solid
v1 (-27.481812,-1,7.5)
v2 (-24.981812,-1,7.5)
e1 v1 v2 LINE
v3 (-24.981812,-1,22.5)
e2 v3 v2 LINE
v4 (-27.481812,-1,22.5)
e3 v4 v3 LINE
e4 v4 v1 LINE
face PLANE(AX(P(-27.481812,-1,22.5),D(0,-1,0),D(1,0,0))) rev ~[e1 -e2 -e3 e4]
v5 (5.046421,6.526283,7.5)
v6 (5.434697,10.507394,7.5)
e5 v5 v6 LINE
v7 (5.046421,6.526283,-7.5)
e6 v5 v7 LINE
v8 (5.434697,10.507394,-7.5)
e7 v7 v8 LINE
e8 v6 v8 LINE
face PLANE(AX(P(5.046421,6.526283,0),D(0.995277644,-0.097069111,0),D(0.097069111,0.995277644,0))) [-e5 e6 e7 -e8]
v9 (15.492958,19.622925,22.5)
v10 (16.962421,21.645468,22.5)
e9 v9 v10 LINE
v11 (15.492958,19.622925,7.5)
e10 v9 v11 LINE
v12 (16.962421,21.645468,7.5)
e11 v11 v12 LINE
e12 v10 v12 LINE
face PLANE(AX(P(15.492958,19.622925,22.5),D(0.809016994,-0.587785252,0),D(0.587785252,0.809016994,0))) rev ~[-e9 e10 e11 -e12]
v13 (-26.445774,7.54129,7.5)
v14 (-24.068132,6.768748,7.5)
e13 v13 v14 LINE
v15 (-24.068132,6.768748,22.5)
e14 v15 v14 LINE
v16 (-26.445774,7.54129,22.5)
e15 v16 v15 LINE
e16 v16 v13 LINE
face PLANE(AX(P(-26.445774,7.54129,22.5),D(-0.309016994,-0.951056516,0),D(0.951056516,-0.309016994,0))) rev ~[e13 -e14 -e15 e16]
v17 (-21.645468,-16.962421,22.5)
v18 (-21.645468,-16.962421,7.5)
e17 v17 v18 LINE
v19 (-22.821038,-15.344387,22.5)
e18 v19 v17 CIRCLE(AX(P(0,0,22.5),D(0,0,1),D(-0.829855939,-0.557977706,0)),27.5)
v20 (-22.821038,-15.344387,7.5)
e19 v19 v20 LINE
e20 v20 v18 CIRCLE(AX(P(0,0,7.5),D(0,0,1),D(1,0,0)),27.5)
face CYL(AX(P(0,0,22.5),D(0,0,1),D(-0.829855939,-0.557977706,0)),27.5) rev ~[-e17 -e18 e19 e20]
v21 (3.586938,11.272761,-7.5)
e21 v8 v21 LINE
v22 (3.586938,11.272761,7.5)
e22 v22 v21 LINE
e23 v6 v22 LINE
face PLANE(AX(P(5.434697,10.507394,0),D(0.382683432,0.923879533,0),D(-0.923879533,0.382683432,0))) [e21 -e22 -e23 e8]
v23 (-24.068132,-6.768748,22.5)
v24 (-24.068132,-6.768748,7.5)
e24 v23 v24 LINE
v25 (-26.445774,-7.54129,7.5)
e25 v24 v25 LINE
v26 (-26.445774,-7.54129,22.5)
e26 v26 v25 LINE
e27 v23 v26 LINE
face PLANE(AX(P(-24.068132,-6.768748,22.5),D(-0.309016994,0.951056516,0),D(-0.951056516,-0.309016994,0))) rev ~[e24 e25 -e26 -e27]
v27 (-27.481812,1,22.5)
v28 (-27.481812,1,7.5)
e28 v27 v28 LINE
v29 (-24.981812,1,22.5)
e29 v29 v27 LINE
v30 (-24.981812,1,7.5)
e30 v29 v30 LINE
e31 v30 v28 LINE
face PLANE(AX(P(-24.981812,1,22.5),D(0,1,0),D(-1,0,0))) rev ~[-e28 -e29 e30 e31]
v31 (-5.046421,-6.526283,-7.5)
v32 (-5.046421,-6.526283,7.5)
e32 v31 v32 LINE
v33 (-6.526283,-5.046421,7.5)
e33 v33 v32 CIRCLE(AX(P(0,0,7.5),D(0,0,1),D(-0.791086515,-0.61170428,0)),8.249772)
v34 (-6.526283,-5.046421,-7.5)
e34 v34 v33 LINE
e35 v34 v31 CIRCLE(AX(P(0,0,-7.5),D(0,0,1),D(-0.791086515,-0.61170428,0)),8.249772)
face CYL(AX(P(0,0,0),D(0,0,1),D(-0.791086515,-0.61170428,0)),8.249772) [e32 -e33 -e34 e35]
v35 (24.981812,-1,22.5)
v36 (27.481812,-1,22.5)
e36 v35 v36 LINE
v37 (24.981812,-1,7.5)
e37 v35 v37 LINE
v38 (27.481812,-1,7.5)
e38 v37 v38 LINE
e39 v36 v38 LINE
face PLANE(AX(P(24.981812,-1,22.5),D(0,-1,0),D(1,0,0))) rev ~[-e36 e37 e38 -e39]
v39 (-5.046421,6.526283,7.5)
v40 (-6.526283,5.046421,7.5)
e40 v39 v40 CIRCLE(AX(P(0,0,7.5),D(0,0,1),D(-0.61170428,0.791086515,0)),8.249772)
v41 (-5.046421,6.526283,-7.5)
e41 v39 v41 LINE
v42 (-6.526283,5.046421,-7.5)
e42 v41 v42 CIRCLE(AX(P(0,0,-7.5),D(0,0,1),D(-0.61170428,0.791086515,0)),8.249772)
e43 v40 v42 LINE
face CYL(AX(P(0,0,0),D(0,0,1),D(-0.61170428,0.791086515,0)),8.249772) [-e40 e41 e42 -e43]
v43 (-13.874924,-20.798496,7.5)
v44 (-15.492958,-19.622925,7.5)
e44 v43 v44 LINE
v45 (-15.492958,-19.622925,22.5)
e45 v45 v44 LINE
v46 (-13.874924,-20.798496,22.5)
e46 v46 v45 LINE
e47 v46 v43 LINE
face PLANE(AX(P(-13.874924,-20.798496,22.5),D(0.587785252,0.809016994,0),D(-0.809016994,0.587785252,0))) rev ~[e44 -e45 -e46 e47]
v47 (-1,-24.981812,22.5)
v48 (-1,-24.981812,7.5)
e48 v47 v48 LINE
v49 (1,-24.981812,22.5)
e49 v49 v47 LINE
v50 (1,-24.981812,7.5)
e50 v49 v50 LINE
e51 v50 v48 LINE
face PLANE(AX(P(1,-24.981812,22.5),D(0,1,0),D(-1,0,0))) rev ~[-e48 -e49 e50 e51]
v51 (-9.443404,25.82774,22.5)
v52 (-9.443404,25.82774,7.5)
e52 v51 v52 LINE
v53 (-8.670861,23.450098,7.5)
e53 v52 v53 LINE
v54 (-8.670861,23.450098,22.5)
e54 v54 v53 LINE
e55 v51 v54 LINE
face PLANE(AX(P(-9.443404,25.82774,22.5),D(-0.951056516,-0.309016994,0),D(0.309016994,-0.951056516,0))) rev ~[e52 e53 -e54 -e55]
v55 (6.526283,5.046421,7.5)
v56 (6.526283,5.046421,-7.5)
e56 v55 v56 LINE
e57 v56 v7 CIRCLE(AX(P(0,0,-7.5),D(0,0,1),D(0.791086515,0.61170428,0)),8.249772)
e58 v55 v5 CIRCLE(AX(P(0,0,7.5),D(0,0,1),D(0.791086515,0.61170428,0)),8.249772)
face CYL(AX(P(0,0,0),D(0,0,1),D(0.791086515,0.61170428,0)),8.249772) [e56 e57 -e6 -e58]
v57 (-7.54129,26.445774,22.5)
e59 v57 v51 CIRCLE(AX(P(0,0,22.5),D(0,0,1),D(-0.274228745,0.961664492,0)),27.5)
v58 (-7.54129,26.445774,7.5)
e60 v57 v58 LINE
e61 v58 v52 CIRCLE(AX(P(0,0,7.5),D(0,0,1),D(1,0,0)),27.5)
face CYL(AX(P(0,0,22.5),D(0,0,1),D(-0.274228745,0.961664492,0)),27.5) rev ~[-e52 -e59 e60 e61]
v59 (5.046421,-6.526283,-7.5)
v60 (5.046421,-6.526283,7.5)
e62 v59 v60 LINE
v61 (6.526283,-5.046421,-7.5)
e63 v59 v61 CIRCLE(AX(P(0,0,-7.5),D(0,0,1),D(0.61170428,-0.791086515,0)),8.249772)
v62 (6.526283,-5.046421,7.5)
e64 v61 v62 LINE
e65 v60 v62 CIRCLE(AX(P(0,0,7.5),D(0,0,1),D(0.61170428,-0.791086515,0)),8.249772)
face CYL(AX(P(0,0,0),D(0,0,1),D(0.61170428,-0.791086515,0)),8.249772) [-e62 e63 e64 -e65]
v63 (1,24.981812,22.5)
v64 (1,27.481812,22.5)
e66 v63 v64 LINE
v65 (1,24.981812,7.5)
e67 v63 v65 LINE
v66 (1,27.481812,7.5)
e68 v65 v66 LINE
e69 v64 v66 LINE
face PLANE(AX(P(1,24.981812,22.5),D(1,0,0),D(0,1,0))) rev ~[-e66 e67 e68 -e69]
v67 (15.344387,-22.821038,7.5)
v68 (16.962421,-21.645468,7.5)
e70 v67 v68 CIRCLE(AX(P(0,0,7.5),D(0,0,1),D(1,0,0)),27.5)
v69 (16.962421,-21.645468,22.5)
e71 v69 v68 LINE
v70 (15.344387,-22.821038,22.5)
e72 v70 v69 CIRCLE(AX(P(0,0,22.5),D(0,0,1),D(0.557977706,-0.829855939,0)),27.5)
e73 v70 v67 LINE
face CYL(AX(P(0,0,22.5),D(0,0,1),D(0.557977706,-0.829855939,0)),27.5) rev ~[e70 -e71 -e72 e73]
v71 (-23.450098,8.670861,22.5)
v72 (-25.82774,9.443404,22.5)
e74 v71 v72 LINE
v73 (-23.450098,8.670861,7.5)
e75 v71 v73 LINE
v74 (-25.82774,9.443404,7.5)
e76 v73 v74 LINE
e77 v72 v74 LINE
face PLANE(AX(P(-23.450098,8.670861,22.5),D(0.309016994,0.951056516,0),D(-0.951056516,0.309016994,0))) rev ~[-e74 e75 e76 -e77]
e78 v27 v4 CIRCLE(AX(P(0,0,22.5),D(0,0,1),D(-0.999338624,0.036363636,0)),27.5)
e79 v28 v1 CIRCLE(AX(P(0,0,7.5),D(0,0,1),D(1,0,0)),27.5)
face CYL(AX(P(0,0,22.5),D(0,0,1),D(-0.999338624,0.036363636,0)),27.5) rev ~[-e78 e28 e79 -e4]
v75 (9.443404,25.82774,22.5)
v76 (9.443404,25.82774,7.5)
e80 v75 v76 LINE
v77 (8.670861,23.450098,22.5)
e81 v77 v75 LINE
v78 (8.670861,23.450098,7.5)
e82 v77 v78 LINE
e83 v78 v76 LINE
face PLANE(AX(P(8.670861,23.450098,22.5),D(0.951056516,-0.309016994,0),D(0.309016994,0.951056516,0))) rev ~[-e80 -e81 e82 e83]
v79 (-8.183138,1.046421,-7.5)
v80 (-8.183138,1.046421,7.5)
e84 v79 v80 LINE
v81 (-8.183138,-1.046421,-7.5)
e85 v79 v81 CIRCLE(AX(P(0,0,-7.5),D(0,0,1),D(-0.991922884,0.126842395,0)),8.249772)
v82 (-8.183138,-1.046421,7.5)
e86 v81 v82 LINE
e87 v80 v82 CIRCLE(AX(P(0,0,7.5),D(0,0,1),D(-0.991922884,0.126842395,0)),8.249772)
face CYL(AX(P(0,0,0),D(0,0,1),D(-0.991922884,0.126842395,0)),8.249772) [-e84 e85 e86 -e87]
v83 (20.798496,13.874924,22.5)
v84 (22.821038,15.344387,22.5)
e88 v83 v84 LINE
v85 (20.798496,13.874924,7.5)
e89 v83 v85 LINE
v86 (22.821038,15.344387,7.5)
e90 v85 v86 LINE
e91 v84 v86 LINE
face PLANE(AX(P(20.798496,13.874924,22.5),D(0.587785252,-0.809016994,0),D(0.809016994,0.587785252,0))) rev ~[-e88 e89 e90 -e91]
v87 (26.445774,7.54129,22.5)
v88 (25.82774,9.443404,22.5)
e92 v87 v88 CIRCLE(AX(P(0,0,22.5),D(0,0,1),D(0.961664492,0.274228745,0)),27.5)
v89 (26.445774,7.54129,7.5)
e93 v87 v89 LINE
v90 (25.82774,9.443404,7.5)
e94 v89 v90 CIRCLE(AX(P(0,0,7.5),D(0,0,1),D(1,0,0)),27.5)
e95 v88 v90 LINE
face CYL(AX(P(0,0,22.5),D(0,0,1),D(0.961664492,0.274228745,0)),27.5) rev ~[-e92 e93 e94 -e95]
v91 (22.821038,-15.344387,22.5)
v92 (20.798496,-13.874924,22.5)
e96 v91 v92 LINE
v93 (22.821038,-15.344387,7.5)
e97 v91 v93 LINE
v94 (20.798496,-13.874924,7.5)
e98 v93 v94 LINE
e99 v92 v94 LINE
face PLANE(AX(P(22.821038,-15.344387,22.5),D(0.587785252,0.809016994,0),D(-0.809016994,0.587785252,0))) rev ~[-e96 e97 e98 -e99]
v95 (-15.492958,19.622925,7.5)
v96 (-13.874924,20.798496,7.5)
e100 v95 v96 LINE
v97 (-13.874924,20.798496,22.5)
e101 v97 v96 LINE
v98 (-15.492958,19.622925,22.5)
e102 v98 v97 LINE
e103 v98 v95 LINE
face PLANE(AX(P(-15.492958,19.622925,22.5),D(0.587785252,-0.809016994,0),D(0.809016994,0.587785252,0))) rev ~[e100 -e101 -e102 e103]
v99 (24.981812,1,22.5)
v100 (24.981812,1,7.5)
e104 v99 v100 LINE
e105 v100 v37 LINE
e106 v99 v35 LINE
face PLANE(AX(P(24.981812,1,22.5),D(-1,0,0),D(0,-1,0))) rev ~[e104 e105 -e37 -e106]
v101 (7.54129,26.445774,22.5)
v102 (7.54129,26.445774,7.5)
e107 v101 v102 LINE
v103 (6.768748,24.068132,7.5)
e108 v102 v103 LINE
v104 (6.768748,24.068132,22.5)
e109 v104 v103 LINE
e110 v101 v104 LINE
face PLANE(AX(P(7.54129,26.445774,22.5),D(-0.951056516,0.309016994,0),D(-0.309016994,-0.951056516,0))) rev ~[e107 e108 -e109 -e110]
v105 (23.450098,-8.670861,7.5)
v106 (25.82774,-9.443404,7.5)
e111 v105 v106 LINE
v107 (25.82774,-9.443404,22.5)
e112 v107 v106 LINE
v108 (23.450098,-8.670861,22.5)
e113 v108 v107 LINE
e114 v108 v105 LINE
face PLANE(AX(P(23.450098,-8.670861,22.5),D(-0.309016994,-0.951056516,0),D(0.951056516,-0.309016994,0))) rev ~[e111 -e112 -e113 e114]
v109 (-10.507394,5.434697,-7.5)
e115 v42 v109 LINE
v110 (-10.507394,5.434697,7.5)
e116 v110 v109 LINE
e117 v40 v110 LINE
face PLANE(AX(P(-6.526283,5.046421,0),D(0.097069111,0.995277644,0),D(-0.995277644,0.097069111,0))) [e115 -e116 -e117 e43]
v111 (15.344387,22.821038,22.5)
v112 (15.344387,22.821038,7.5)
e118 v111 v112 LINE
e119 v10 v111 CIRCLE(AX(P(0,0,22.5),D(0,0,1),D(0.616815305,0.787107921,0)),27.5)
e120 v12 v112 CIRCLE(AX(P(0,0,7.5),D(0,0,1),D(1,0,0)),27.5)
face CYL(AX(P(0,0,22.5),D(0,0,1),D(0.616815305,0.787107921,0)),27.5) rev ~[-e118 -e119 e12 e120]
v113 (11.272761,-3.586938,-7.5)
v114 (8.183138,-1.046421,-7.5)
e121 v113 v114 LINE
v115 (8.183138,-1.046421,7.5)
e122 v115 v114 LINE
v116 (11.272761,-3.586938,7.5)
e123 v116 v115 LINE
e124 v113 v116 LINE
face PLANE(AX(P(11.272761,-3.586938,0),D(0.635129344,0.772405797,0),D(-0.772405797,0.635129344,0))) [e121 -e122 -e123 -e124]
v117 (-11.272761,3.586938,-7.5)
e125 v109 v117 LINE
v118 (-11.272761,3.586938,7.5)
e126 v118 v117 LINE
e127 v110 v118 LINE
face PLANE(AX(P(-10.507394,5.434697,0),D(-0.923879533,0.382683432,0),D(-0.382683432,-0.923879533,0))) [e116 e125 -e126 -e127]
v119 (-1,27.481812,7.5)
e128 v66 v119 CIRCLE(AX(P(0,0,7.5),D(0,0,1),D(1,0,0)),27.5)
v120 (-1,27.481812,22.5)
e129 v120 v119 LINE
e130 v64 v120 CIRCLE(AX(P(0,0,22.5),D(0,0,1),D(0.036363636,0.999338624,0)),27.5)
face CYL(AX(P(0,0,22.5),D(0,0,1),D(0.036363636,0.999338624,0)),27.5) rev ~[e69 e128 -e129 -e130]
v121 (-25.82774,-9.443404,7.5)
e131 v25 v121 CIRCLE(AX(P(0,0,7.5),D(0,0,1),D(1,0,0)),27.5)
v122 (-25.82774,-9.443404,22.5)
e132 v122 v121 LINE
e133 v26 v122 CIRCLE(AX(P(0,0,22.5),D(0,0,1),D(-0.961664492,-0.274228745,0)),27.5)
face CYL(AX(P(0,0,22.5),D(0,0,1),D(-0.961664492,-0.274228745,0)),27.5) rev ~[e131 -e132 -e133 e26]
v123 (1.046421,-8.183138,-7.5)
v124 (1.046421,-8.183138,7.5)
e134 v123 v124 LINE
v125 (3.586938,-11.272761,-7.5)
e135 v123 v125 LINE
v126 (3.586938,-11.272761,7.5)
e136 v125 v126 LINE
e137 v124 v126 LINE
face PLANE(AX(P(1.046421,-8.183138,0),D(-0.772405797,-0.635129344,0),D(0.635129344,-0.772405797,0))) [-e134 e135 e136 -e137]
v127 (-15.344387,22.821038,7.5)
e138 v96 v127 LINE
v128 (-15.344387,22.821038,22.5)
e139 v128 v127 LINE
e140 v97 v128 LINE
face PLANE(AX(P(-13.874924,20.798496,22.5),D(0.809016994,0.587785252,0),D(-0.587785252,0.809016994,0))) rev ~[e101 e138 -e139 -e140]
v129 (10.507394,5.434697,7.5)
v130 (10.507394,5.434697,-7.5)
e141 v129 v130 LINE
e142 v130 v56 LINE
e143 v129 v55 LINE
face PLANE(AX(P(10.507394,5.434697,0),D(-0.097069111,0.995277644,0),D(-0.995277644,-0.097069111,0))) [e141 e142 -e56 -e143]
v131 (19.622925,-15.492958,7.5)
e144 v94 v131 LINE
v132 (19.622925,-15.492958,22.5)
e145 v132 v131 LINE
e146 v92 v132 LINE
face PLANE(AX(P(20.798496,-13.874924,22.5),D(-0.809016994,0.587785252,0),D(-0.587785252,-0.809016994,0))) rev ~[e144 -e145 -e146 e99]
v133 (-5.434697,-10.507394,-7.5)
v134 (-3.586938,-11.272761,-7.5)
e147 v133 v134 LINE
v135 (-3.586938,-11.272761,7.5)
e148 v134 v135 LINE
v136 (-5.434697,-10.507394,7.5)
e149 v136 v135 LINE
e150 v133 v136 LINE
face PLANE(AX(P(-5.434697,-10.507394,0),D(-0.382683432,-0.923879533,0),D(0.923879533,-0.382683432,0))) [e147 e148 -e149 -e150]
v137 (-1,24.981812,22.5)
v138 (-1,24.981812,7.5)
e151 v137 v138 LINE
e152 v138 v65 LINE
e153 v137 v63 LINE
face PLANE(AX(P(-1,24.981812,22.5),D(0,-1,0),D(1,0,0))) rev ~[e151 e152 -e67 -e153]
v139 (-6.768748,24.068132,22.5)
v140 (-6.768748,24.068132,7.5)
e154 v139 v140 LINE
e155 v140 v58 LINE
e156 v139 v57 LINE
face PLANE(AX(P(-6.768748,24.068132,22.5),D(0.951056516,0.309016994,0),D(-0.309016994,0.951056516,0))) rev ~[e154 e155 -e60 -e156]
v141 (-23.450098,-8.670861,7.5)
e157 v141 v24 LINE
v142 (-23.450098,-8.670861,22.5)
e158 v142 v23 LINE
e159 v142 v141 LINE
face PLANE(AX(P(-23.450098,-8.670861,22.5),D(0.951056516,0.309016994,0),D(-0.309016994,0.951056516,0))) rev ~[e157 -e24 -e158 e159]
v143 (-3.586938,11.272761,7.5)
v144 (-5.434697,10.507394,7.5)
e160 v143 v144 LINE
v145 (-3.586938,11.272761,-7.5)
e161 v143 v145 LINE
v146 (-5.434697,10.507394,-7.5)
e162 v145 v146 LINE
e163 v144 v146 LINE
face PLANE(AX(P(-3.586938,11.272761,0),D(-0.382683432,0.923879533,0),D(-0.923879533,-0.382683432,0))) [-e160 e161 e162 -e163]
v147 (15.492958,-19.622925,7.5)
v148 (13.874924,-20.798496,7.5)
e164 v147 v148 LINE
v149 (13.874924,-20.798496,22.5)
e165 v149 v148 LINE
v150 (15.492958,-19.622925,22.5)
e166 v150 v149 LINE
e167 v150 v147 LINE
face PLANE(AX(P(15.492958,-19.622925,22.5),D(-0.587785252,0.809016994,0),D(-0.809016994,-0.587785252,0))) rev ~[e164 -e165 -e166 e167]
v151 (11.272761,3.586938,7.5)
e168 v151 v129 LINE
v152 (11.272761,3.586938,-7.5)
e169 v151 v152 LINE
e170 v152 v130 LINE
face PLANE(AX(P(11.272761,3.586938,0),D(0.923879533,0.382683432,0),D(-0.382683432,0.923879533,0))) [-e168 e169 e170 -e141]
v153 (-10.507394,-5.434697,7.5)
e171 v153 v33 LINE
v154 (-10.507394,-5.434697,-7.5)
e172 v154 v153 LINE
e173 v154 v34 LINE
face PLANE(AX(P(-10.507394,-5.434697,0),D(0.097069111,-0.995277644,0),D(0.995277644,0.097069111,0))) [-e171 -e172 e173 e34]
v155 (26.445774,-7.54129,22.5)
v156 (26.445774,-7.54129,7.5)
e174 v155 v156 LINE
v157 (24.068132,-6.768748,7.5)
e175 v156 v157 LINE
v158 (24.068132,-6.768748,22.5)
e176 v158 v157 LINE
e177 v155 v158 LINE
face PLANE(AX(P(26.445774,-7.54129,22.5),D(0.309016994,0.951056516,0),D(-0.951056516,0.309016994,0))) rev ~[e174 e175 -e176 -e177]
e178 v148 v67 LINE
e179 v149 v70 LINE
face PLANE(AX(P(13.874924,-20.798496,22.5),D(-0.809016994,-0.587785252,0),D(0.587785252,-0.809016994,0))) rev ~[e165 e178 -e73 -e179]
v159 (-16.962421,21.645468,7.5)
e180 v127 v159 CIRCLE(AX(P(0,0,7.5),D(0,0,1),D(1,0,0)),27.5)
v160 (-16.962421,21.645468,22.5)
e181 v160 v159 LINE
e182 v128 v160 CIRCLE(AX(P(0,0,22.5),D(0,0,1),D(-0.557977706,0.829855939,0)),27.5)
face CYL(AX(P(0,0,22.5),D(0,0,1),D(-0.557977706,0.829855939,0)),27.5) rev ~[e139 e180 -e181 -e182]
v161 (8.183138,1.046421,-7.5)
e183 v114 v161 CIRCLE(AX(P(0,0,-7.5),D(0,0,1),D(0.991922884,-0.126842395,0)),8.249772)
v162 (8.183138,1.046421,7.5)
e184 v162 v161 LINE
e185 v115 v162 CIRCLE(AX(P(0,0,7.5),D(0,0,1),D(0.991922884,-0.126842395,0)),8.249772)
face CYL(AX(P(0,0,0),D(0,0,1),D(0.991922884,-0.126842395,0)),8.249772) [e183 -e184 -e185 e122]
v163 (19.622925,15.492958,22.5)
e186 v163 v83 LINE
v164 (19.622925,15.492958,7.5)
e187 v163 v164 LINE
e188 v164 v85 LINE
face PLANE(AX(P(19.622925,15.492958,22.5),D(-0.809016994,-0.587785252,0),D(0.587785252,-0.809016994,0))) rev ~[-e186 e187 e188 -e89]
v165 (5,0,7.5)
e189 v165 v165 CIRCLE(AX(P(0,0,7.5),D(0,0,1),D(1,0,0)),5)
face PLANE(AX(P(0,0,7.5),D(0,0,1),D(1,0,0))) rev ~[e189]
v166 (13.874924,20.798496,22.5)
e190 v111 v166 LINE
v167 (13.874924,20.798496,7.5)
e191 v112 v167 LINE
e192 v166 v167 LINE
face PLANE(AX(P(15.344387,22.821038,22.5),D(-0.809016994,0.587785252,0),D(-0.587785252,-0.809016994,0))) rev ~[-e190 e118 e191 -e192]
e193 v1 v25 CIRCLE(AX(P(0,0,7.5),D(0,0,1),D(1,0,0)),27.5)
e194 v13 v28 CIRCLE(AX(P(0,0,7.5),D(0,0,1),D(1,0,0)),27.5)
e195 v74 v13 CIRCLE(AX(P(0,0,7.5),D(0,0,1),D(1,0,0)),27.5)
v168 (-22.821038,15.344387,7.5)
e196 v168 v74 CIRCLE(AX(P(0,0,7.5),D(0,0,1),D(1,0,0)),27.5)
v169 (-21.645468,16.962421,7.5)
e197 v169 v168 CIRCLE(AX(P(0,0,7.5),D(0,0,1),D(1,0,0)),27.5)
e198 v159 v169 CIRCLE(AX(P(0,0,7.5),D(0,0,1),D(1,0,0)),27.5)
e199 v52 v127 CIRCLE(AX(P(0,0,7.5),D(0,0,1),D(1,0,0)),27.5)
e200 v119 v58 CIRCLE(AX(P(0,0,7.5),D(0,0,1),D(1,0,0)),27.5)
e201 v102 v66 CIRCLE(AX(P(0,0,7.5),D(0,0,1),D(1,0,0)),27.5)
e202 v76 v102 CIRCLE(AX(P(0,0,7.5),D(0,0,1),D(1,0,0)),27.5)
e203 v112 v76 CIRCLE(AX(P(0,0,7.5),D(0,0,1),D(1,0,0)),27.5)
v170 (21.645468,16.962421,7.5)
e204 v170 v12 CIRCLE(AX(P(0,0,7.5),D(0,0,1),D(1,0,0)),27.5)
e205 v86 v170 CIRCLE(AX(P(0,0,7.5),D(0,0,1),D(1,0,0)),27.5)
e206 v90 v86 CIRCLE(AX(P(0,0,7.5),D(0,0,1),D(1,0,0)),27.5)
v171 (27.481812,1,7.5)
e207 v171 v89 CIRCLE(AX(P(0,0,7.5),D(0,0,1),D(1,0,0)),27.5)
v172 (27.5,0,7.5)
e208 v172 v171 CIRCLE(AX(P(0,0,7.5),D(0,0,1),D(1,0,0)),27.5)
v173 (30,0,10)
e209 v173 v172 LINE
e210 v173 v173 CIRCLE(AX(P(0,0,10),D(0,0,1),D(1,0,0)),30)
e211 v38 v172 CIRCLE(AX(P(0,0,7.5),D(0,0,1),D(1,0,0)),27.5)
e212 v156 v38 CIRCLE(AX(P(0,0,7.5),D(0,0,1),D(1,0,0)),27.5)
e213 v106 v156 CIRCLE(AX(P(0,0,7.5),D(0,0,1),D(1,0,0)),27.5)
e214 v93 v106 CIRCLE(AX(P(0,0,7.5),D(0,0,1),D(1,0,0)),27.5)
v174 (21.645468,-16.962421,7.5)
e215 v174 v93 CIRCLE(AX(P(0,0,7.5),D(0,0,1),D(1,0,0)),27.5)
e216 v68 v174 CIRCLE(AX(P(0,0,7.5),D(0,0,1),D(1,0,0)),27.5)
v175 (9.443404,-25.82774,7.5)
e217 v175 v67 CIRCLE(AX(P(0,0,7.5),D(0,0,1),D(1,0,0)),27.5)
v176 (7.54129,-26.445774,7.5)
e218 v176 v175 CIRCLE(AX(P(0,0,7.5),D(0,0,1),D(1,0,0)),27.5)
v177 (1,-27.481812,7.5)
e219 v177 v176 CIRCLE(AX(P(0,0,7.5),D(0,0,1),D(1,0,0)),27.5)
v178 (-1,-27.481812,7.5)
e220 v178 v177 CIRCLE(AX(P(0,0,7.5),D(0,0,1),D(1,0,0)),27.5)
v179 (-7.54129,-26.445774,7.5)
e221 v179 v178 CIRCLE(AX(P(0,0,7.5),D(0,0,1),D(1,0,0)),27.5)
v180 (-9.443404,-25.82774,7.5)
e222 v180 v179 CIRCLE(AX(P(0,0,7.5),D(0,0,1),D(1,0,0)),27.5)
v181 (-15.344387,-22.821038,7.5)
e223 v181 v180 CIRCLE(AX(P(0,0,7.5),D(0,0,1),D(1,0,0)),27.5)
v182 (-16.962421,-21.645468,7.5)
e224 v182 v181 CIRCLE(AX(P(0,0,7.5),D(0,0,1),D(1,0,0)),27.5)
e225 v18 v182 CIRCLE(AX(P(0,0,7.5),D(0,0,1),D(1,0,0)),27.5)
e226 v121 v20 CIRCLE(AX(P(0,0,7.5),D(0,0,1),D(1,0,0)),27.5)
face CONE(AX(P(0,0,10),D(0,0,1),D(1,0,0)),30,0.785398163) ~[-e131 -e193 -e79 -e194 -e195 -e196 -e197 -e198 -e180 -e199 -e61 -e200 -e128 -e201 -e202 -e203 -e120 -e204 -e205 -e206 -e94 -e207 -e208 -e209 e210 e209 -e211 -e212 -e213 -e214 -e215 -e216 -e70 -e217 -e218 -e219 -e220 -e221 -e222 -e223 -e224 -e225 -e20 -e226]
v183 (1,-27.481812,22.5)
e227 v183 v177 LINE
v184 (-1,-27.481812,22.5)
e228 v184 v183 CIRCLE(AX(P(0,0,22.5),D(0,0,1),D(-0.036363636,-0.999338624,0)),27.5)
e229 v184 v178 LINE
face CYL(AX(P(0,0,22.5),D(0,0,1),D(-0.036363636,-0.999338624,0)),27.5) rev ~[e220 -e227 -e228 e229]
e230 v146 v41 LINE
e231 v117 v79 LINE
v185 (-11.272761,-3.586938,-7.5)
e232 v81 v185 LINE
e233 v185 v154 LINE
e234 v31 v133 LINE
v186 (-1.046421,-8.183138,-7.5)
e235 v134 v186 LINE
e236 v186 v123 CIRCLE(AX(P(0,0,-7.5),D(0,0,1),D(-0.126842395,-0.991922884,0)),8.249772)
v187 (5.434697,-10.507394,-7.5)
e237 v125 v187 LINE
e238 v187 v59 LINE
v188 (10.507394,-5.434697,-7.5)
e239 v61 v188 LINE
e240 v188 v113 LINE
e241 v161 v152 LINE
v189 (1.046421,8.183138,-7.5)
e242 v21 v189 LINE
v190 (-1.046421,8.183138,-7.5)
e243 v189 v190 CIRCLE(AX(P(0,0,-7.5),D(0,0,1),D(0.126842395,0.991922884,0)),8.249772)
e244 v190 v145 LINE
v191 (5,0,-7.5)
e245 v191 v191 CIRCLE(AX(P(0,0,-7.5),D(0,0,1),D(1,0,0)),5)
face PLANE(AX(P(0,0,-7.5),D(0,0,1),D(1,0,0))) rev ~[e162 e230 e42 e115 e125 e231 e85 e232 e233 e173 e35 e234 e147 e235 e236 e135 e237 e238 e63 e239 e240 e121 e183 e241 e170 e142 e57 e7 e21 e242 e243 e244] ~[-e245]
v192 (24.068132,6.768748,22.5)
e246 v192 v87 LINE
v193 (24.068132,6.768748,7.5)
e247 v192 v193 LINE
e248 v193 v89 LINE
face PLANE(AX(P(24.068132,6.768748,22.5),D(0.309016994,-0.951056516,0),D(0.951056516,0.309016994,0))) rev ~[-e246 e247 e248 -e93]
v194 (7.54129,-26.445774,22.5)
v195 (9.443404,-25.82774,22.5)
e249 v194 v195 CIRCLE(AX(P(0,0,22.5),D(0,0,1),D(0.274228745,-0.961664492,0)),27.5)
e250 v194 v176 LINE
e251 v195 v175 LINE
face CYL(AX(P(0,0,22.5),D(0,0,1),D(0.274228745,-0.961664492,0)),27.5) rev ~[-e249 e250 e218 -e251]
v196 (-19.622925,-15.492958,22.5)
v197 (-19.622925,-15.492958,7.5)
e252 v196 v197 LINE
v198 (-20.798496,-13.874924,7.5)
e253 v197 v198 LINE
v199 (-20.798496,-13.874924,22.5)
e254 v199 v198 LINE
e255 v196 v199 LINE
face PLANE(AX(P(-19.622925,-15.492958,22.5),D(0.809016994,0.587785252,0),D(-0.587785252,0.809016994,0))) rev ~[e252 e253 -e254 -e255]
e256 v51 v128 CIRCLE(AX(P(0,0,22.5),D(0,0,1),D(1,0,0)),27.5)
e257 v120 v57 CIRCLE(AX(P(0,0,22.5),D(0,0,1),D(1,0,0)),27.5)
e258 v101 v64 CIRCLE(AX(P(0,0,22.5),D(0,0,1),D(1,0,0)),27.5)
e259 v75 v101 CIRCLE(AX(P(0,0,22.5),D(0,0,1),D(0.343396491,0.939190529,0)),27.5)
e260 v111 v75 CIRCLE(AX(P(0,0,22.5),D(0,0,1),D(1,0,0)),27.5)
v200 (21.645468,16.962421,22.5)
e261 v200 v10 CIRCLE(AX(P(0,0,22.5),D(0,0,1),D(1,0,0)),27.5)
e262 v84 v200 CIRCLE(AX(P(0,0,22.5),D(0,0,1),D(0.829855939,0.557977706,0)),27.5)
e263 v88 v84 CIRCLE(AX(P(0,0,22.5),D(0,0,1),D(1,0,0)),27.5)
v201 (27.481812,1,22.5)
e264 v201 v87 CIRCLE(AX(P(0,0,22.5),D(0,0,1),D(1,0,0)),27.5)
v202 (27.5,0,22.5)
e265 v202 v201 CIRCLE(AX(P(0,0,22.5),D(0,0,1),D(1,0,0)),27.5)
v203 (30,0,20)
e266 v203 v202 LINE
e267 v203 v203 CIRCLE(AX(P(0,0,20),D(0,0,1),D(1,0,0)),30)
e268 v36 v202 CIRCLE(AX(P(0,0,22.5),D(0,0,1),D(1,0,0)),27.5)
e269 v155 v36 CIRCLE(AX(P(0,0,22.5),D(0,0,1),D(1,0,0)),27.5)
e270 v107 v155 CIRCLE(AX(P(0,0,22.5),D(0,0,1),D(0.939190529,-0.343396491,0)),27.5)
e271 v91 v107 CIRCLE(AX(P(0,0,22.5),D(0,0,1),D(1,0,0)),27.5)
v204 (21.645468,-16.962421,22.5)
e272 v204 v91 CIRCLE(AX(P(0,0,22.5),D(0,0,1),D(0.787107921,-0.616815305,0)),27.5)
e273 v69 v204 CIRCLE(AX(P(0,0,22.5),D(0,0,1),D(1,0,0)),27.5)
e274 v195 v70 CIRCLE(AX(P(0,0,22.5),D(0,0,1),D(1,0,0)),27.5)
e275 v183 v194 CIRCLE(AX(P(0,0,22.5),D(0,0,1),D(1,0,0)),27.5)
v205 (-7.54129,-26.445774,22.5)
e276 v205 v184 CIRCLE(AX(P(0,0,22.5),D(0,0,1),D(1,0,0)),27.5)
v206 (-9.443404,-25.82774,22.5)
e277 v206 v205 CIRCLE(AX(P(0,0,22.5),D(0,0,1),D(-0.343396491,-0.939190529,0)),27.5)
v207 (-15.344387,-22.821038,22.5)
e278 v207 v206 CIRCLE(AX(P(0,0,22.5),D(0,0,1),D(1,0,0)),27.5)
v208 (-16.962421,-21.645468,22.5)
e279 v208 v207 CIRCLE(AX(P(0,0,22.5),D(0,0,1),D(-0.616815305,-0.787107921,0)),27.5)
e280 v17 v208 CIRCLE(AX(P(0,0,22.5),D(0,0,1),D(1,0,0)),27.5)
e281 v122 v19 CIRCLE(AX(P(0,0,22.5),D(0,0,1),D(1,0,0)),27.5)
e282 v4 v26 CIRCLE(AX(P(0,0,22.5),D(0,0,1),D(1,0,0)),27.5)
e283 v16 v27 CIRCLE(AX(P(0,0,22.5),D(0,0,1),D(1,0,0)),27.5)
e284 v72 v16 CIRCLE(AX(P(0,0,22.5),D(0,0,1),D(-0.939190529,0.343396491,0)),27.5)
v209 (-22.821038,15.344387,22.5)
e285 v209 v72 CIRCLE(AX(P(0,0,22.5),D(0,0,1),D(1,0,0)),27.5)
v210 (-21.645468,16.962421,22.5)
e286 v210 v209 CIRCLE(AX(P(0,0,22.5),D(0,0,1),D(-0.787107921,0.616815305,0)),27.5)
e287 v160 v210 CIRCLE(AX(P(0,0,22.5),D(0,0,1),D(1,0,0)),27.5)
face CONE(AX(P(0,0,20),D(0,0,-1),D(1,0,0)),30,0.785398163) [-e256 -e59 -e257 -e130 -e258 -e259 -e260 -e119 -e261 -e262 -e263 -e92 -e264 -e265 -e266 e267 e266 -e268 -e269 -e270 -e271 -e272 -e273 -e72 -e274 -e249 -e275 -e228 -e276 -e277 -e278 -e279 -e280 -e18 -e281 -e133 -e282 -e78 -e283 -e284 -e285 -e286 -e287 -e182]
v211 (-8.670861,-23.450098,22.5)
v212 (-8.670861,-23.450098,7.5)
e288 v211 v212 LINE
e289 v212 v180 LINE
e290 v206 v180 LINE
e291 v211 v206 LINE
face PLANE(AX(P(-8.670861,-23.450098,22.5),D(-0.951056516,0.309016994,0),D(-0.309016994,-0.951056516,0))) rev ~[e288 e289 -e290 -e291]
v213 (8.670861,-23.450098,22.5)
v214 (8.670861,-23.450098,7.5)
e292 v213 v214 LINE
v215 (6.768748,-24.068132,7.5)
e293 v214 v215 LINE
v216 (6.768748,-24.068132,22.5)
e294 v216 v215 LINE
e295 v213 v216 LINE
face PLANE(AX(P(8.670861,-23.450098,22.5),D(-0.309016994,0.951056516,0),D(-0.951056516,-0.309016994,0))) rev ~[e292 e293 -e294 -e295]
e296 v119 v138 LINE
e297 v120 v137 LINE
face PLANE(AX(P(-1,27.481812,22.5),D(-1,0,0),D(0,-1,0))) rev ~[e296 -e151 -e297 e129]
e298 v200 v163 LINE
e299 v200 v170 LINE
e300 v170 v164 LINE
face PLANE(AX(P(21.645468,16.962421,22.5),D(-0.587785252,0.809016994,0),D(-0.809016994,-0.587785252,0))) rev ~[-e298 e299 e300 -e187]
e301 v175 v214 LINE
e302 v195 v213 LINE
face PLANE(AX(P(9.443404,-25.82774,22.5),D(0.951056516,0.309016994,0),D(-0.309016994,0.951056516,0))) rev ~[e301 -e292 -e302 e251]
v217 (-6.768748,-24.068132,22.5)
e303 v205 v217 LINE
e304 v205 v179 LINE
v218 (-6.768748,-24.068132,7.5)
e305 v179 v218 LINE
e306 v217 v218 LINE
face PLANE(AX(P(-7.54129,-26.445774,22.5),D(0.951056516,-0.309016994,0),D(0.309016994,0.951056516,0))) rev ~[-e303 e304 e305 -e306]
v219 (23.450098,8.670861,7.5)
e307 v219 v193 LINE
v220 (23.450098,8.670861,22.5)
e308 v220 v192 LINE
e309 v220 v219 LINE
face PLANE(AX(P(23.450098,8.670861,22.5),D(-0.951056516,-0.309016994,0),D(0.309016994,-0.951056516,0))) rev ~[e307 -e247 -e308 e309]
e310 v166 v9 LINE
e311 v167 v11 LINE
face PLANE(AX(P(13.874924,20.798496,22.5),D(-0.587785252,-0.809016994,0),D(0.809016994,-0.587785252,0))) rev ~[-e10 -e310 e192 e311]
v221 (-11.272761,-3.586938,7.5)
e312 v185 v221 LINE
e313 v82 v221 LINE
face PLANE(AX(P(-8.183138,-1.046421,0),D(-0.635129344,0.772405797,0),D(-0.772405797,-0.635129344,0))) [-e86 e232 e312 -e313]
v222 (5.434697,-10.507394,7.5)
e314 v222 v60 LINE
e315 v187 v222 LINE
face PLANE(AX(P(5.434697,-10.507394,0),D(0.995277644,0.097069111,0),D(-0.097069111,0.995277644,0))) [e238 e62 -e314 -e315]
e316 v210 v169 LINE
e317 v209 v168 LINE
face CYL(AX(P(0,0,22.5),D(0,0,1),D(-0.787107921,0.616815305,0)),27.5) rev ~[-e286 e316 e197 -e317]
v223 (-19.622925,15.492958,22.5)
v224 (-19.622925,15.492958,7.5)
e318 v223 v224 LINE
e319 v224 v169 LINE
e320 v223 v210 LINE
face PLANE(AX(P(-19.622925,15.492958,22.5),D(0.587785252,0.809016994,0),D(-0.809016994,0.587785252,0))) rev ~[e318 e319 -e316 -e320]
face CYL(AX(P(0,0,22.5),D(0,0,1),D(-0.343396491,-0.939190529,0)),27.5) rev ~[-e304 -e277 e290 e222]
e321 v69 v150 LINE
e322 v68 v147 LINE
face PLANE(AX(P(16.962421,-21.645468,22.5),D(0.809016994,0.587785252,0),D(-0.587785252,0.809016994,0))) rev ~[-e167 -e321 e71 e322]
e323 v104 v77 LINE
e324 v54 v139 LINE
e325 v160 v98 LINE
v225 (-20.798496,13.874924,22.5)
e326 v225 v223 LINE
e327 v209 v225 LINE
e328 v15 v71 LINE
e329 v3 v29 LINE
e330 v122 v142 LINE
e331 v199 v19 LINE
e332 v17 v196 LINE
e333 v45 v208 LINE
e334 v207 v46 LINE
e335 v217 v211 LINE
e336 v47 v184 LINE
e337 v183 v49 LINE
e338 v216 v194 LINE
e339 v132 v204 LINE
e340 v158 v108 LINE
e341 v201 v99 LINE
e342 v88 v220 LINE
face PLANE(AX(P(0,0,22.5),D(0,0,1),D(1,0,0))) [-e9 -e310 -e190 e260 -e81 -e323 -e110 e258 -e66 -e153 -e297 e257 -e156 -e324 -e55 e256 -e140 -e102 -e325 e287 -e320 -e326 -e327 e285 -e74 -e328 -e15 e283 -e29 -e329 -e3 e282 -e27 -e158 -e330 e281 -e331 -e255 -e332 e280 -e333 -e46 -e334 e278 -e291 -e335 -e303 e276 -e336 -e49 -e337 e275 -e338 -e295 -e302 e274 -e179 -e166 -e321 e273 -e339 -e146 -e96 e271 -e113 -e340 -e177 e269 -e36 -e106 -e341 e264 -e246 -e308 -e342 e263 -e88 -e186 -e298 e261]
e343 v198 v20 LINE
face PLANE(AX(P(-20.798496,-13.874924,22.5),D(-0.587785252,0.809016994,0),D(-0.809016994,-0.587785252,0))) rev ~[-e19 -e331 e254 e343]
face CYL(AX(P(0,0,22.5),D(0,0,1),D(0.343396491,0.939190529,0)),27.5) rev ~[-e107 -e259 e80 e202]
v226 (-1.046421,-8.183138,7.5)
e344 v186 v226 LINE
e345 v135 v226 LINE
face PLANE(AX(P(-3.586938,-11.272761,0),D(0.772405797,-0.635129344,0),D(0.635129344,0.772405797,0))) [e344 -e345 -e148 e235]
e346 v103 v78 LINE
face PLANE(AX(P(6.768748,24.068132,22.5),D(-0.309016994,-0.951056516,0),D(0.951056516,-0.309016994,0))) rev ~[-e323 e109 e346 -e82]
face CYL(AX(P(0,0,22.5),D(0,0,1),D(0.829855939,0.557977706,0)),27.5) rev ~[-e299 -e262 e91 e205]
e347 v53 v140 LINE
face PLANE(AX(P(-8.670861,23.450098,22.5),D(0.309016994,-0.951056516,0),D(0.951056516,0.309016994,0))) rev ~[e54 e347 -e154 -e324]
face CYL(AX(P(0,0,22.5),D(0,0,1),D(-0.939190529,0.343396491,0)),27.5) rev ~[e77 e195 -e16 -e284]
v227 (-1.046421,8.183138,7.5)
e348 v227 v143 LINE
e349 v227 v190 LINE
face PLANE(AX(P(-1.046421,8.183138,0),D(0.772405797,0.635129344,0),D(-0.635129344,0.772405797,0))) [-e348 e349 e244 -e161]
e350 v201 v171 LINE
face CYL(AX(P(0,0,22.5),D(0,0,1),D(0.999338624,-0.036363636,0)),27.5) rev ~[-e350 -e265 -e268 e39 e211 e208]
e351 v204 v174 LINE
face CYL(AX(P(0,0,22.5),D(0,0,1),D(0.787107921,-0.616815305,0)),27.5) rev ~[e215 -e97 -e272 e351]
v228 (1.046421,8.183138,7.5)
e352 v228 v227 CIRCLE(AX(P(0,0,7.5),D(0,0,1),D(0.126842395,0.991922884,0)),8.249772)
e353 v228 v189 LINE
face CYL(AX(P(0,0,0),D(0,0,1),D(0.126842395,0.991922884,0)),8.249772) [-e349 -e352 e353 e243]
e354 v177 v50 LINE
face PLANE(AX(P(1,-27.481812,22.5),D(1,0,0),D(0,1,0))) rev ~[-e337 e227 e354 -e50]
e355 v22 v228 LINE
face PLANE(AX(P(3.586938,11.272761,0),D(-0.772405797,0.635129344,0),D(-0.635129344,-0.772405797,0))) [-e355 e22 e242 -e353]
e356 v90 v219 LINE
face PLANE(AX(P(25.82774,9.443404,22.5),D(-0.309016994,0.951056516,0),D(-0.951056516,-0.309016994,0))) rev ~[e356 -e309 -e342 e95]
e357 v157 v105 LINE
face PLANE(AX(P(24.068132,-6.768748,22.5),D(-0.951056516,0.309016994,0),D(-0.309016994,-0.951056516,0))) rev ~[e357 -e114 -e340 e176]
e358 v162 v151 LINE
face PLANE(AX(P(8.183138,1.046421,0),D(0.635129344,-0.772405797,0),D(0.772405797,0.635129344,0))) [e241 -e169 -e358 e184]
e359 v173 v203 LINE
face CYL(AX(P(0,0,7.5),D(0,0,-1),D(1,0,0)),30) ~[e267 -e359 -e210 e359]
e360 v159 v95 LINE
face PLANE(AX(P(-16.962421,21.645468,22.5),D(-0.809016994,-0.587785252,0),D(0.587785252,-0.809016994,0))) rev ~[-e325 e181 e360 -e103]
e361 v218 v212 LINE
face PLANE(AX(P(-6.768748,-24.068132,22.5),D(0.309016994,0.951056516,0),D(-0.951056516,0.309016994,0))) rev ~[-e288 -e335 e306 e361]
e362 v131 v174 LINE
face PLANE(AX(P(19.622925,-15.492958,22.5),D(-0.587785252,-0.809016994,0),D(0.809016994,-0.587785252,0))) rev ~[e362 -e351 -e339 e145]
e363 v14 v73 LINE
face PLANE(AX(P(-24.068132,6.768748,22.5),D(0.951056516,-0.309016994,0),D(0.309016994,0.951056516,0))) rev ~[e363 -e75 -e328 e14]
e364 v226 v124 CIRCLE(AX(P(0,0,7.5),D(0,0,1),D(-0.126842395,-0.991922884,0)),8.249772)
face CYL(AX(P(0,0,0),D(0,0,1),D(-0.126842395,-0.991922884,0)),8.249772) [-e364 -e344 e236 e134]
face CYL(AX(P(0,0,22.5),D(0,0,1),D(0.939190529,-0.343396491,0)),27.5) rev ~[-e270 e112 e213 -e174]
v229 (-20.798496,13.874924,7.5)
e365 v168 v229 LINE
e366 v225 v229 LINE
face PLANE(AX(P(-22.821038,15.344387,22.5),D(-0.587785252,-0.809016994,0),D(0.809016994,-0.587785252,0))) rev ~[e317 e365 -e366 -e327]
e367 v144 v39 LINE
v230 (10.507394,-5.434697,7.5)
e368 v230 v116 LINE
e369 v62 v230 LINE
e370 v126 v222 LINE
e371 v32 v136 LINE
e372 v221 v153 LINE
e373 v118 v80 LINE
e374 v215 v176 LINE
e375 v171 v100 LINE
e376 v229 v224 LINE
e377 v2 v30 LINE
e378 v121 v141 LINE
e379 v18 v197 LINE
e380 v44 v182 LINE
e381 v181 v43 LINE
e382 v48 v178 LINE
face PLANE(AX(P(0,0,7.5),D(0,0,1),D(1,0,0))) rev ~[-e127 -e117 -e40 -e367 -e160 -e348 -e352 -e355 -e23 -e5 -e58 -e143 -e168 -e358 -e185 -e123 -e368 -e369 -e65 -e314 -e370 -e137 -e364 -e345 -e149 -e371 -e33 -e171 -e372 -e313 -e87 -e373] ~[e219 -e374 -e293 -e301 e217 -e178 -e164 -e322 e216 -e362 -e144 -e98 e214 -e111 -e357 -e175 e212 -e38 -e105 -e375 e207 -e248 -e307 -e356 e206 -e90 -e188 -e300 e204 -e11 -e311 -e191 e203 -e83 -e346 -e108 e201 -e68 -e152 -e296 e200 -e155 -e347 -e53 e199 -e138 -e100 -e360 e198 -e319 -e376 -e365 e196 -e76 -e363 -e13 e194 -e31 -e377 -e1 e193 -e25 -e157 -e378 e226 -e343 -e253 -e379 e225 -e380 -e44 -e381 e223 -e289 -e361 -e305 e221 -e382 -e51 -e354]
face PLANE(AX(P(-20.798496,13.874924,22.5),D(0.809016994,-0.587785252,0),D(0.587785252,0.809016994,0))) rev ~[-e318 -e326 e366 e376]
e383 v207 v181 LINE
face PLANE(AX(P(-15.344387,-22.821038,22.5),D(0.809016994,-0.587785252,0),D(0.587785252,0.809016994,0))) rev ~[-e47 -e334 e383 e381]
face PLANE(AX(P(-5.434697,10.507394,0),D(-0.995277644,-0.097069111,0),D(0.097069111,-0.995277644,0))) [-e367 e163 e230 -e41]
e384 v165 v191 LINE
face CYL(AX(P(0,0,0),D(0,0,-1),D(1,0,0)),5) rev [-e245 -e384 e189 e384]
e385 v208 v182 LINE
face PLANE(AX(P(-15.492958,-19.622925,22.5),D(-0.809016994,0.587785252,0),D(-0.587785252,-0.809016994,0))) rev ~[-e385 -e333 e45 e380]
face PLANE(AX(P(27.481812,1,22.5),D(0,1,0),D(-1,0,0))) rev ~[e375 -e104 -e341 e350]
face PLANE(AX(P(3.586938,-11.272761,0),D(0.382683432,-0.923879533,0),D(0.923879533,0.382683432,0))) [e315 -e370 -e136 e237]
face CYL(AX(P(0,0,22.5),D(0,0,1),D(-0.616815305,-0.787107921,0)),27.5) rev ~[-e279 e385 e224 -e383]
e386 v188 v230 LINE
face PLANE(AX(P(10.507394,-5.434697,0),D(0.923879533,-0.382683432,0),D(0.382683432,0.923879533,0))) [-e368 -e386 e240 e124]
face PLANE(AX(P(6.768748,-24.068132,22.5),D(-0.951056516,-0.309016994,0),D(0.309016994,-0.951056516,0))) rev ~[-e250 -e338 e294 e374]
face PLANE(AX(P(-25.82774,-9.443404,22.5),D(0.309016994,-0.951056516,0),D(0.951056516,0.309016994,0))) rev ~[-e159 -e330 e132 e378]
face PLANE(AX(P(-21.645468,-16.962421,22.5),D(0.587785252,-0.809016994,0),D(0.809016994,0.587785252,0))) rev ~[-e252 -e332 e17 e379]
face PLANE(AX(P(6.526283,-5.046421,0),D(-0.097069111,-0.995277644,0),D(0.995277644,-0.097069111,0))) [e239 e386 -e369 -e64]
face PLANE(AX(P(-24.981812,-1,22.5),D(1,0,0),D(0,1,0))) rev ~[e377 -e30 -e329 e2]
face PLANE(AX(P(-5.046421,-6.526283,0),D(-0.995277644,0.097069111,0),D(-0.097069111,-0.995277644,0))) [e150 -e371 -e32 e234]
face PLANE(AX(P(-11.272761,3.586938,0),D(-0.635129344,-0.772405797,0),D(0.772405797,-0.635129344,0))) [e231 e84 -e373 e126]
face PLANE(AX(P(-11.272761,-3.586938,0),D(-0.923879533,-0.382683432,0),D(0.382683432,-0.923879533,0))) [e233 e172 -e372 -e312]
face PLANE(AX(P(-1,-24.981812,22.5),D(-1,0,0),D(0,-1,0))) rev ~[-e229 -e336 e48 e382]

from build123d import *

# Parameters (mm, degrees)
F0_R     = 5
F1_DEPTH = 7.5
F2_R     = 30
F3_DEPTH = 15
F4_SIZE  = 2.5
F6_DEPTH = 25


with BuildPart() as f1:
    # F0 (on Top) → F1 (new body, symmetric)
    with BuildSketch(Plane.XY):
        with BuildLine():
            Line((-11.2727608123, 3.5869382136), (-8.1831376229, 1.0464208357))
            ThreePointArc((-8.1831376229, 1.0464208357), (-8.249771992, 0), (-8.1831376229, -1.0464208357))
            Line((-8.1831376229, -1.0464208357), (-11.2727608123, -3.5869382136))
            Line((-11.2727608123, -3.5869382136), (-10.5073939476, -5.4346972786))
            Line((-10.5073939476, -5.4346972786), (-6.5262833734, -5.0464208357))
            ThreePointArc((-6.5262833734, -5.0464208357), (-5.8334697188, -5.8334697188), (-5.0464208357, -6.5262833734))
            Line((-5.0464208357, -6.5262833734), (-5.4346972786, -10.5073939476))
            Line((-5.4346972786, -10.5073939476), (-3.5869382136, -11.2727608123))
            Line((-3.5869382136, -11.2727608123), (-1.0464208357, -8.1831376229))
            ThreePointArc((-1.0464208357, -8.1831376229), (0, -8.249771992), (1.0464208357, -8.1831376229))
            Line((1.0464208357, -8.1831376229), (3.5869382136, -11.2727608123))
            Line((3.5869382136, -11.2727608123), (5.4346972786, -10.5073939476))
            Line((5.4346972786, -10.5073939476), (5.0464208357, -6.5262833734))
            ThreePointArc((5.0464208357, -6.5262833734), (5.8334697188, -5.8334697188), (6.5262833734, -5.0464208357))
            Line((6.5262833734, -5.0464208357), (10.5073939476, -5.4346972786))
            Line((10.5073939476, -5.4346972786), (11.2727608123, -3.5869382136))
            Line((11.2727608123, -3.5869382136), (8.1831376229, -1.0464208357))
            ThreePointArc((8.1831376229, -1.0464208357), (8.249771992, 0), (8.1831376229, 1.0464208357))
            Line((8.1831376229, 1.0464208357), (11.2727608123, 3.5869382136))
            Line((11.2727608123, 3.5869382136), (10.5073939476, 5.4346972786))
            Line((10.5073939476, 5.4346972786), (6.5262833734, 5.0464208357))
            ThreePointArc((6.5262833734, 5.0464208357), (5.8334697188, 5.8334697188), (5.0464208357, 6.5262833734))
            Line((5.0464208357, 6.5262833734), (5.4346972786, 10.5073939476))
            Line((5.4346972786, 10.5073939476), (3.5869382136, 11.2727608123))
            Line((3.5869382136, 11.2727608123), (1.0464208357, 8.1831376229))
            ThreePointArc((1.0464208357, 8.1831376229), (0, 8.249771992), (-1.0464208357, 8.1831376229))
            Line((-1.0464208357, 8.1831376229), (-3.5869382136, 11.2727608123))
            Line((-3.5869382136, 11.2727608123), (-5.4346972786, 10.5073939476))
            Line((-5.4346972786, 10.5073939476), (-5.0464208357, 6.5262833734))
            ThreePointArc((-5.0464208357, 6.5262833734), (-5.8334697188, 5.8334697188), (-6.5262833734, 5.0464208357))
            Line((-6.5262833734, 5.0464208357), (-10.5073939476, 5.4346972786))
            Line((-10.5073939476, 5.4346972786), (-11.2727608123, 3.5869382136))
        make_face()
        Circle(F0_R, mode=Mode.SUBTRACT)
    extrude(amount=F1_DEPTH, both=True)

    # F2 (on face) → F3 (join)
    with BuildSketch(Plane.XY.offset(7.5)):
        Circle(F2_R)
    extrude(amount=F3_DEPTH)

    # F4
    f4_edges = [f1.edges().sort_by_distance(p)[0] for p in [
        (-30, 0, 22.5),
        (-30, 0, 7.5),
    ]]
    chamfer(f4_edges, length=F4_SIZE)

    # F5 (on face) → F6 (cut)
    with BuildSketch(Plane.XY.offset(22.5)):
        with BuildLine():
            Line((-1, 24.9818121673), (1, 24.9818121673))
            Line((1, 24.9818121673), (1, 27.4818121673))
            ThreePointArc((1, 27.4818121673), (0, 27.5), (-1, 27.4818121673))
            Line((-1, 27.4818121673), (-1, 24.9818121673))
        make_face()
        with BuildLine():
            ThreePointArc((-7.5412904796, 26.4457735357), (-8.4979673453, 26.1540541981), (-9.4434035122, 25.827739547))
            Line((-9.4434035122, 25.827739547), (-8.6708610263, 23.4500982562))
            Line((-8.6708610263, 23.4500982562), (-6.7687479937, 24.068132245))
            Line((-6.7687479937, 24.068132245), (-7.5412904796, 26.4457735357))
        make_face()
        with BuildLine():
            ThreePointArc((-15.3443869038, 22.8210383319), (-16.164094438, 22.2479673453), (-16.9624208926, 21.6454678273))
            Line((-16.9624208926, 21.6454678273), (-15.4929577619, 19.6229253414))
            Line((-15.4929577619, 19.6229253414), (-13.8749237731, 20.7984958459))
            Line((-13.8749237731, 20.7984958459), (-15.3443869038, 22.8210383319))
        make_face()
        with BuildLine():
            ThreePointArc((-21.6454678273, 16.9624208926), (-22.2479673453, 16.164094438), (-22.8210383319, 15.3443869038))
            Line((-22.8210383319, 15.3443869038), (-20.7984958459, 13.8749237731))
            Line((-20.7984958459, 13.8749237731), (-19.6229253414, 15.4929577619))
            Line((-19.6229253414, 15.4929577619), (-21.6454678273, 16.9624208926))
        make_face()
        with BuildLine():
            ThreePointArc((-25.827739547, 9.4434035122), (-26.1540541981, 8.4979673453), (-26.4457735357, 7.5412904796))
            Line((-26.4457735357, 7.5412904796), (-24.068132245, 6.7687479937))
            Line((-24.068132245, 6.7687479937), (-23.4500982562, 8.6708610263))
            Line((-23.4500982562, 8.6708610263), (-25.827739547, 9.4434035122))
        make_face()
        with BuildLine():
            ThreePointArc((-27.4818121673, 1), (-27.5, 0), (-27.4818121673, -1))
            Line((-27.4818121673, -1), (-24.9818121673, -1))
            Line((-24.9818121673, -1), (-24.9818121673, 1))
            Line((-24.9818121673, 1), (-27.4818121673, 1))
        make_face()
        with BuildLine():
            ThreePointArc((-26.4457735357, -7.5412904796), (-26.1540541981, -8.4979673453), (-25.827739547, -9.4434035122))
            Line((-25.827739547, -9.4434035122), (-23.4500982562, -8.6708610263))
            Line((-23.4500982562, -8.6708610263), (-24.068132245, -6.7687479937))
            Line((-24.068132245, -6.7687479937), (-26.4457735357, -7.5412904796))
        make_face()
        with BuildLine():
            ThreePointArc((-22.8210383319, -15.3443869038), (-22.2479673453, -16.164094438), (-21.6454678273, -16.9624208926))
            Line((-21.6454678273, -16.9624208926), (-19.6229253414, -15.4929577619))
            Line((-19.6229253414, -15.4929577619), (-20.7984958459, -13.8749237731))
            Line((-20.7984958459, -13.8749237731), (-22.8210383319, -15.3443869038))
        make_face()
        with BuildLine():
            ThreePointArc((-16.9624208926, -21.6454678273), (-16.164094438, -22.2479673453), (-15.3443869038, -22.8210383319))
            Line((-15.3443869038, -22.8210383319), (-13.8749237731, -20.7984958459))
            Line((-13.8749237731, -20.7984958459), (-15.4929577619, -19.6229253414))
            Line((-15.4929577619, -19.6229253414), (-16.9624208926, -21.6454678273))
        make_face()
        with BuildLine():
            ThreePointArc((-9.4434035122, -25.827739547), (-8.4979673453, -26.1540541981), (-7.5412904796, -26.4457735357))
            Line((-7.5412904796, -26.4457735357), (-6.7687479937, -24.068132245))
            Line((-6.7687479937, -24.068132245), (-8.6708610263, -23.4500982562))
            Line((-8.6708610263, -23.4500982562), (-9.4434035122, -25.827739547))
        make_face()
        with BuildLine():
            ThreePointArc((-1, -27.4818121673), (0, -27.5), (1, -27.4818121673))
            Line((1, -27.4818121673), (1, -24.9818121673))
            Line((1, -24.9818121673), (-1, -24.9818121673))
            Line((-1, -24.9818121673), (-1, -27.4818121673))
        make_face()
        with BuildLine():
            ThreePointArc((7.5412904796, -26.4457735357), (8.4979673453, -26.1540541981), (9.4434035122, -25.827739547))
            Line((9.4434035122, -25.827739547), (8.6708610263, -23.4500982562))
            Line((8.6708610263, -23.4500982562), (6.7687479937, -24.068132245))
            Line((6.7687479937, -24.068132245), (7.5412904796, -26.4457735357))
        make_face()
        with BuildLine():
            ThreePointArc((15.3443869038, -22.8210383319), (16.164094438, -22.2479673453), (16.9624208926, -21.6454678273))
            Line((16.9624208926, -21.6454678273), (15.4929577619, -19.6229253414))
            Line((15.4929577619, -19.6229253414), (13.8749237731, -20.7984958459))
            Line((13.8749237731, -20.7984958459), (15.3443869038, -22.8210383319))
        make_face()
        with BuildLine():
            ThreePointArc((21.6454678273, -16.9624208926), (22.2479673453, -16.164094438), (22.8210383319, -15.3443869038))
            Line((22.8210383319, -15.3443869038), (20.7984958459, -13.8749237731))
            Line((20.7984958459, -13.8749237731), (19.6229253414, -15.4929577619))
            Line((19.6229253414, -15.4929577619), (21.6454678273, -16.9624208926))
        make_face()
        with BuildLine():
            ThreePointArc((25.827739547, -9.4434035122), (26.1540541981, -8.4979673453), (26.4457735357, -7.5412904796))
            Line((26.4457735357, -7.5412904796), (24.068132245, -6.7687479937))
            Line((24.068132245, -6.7687479937), (23.4500982562, -8.6708610263))
            Line((23.4500982562, -8.6708610263), (25.827739547, -9.4434035122))
        make_face()
        with BuildLine():
            ThreePointArc((27.4818121673, -1), (27.5, 0), (27.4818121673, 1))
            Line((27.4818121673, 1), (24.9818121673, 1))
            Line((24.9818121673, 1), (24.9818121673, -1))
            Line((24.9818121673, -1), (27.4818121673, -1))
        make_face()
        with BuildLine():
            ThreePointArc((26.4457735357, 7.5412904796), (26.1540541981, 8.4979673453), (25.827739547, 9.4434035122))
            Line((25.827739547, 9.4434035122), (23.4500982562, 8.6708610263))
            Line((23.4500982562, 8.6708610263), (24.068132245, 6.7687479937))
            Line((24.068132245, 6.7687479937), (26.4457735357, 7.5412904796))
        make_face()
        with BuildLine():
            ThreePointArc((22.8210383319, 15.3443869038), (22.2479673453, 16.164094438), (21.6454678273, 16.9624208926))
            Line((21.6454678273, 16.9624208926), (19.6229253414, 15.4929577619))
            Line((19.6229253414, 15.4929577619), (20.7984958459, 13.8749237731))
            Line((20.7984958459, 13.8749237731), (22.8210383319, 15.3443869038))
        make_face()
        with BuildLine():
            ThreePointArc((16.9624208926, 21.6454678273), (16.164094438, 22.2479673453), (15.3443869038, 22.8210383319))
            Line((15.3443869038, 22.8210383319), (13.8749237731, 20.7984958459))
            Line((13.8749237731, 20.7984958459), (15.4929577619, 19.6229253414))
            Line((15.4929577619, 19.6229253414), (16.9624208926, 21.6454678273))
        make_face()
        with BuildLine():
            ThreePointArc((9.4434035122, 25.827739547), (8.4979673453, 26.1540541981), (7.5412904796, 26.4457735357))
            Line((7.5412904796, 26.4457735357), (6.7687479937, 24.068132245))
            Line((6.7687479937, 24.068132245), (8.6708610263, 23.4500982562))
            Line((8.6708610263, 23.4500982562), (9.4434035122, 25.827739547))
        make_face()
    extrude(amount=-F6_DEPTH, mode=Mode.SUBTRACT)


solid = f1.part
